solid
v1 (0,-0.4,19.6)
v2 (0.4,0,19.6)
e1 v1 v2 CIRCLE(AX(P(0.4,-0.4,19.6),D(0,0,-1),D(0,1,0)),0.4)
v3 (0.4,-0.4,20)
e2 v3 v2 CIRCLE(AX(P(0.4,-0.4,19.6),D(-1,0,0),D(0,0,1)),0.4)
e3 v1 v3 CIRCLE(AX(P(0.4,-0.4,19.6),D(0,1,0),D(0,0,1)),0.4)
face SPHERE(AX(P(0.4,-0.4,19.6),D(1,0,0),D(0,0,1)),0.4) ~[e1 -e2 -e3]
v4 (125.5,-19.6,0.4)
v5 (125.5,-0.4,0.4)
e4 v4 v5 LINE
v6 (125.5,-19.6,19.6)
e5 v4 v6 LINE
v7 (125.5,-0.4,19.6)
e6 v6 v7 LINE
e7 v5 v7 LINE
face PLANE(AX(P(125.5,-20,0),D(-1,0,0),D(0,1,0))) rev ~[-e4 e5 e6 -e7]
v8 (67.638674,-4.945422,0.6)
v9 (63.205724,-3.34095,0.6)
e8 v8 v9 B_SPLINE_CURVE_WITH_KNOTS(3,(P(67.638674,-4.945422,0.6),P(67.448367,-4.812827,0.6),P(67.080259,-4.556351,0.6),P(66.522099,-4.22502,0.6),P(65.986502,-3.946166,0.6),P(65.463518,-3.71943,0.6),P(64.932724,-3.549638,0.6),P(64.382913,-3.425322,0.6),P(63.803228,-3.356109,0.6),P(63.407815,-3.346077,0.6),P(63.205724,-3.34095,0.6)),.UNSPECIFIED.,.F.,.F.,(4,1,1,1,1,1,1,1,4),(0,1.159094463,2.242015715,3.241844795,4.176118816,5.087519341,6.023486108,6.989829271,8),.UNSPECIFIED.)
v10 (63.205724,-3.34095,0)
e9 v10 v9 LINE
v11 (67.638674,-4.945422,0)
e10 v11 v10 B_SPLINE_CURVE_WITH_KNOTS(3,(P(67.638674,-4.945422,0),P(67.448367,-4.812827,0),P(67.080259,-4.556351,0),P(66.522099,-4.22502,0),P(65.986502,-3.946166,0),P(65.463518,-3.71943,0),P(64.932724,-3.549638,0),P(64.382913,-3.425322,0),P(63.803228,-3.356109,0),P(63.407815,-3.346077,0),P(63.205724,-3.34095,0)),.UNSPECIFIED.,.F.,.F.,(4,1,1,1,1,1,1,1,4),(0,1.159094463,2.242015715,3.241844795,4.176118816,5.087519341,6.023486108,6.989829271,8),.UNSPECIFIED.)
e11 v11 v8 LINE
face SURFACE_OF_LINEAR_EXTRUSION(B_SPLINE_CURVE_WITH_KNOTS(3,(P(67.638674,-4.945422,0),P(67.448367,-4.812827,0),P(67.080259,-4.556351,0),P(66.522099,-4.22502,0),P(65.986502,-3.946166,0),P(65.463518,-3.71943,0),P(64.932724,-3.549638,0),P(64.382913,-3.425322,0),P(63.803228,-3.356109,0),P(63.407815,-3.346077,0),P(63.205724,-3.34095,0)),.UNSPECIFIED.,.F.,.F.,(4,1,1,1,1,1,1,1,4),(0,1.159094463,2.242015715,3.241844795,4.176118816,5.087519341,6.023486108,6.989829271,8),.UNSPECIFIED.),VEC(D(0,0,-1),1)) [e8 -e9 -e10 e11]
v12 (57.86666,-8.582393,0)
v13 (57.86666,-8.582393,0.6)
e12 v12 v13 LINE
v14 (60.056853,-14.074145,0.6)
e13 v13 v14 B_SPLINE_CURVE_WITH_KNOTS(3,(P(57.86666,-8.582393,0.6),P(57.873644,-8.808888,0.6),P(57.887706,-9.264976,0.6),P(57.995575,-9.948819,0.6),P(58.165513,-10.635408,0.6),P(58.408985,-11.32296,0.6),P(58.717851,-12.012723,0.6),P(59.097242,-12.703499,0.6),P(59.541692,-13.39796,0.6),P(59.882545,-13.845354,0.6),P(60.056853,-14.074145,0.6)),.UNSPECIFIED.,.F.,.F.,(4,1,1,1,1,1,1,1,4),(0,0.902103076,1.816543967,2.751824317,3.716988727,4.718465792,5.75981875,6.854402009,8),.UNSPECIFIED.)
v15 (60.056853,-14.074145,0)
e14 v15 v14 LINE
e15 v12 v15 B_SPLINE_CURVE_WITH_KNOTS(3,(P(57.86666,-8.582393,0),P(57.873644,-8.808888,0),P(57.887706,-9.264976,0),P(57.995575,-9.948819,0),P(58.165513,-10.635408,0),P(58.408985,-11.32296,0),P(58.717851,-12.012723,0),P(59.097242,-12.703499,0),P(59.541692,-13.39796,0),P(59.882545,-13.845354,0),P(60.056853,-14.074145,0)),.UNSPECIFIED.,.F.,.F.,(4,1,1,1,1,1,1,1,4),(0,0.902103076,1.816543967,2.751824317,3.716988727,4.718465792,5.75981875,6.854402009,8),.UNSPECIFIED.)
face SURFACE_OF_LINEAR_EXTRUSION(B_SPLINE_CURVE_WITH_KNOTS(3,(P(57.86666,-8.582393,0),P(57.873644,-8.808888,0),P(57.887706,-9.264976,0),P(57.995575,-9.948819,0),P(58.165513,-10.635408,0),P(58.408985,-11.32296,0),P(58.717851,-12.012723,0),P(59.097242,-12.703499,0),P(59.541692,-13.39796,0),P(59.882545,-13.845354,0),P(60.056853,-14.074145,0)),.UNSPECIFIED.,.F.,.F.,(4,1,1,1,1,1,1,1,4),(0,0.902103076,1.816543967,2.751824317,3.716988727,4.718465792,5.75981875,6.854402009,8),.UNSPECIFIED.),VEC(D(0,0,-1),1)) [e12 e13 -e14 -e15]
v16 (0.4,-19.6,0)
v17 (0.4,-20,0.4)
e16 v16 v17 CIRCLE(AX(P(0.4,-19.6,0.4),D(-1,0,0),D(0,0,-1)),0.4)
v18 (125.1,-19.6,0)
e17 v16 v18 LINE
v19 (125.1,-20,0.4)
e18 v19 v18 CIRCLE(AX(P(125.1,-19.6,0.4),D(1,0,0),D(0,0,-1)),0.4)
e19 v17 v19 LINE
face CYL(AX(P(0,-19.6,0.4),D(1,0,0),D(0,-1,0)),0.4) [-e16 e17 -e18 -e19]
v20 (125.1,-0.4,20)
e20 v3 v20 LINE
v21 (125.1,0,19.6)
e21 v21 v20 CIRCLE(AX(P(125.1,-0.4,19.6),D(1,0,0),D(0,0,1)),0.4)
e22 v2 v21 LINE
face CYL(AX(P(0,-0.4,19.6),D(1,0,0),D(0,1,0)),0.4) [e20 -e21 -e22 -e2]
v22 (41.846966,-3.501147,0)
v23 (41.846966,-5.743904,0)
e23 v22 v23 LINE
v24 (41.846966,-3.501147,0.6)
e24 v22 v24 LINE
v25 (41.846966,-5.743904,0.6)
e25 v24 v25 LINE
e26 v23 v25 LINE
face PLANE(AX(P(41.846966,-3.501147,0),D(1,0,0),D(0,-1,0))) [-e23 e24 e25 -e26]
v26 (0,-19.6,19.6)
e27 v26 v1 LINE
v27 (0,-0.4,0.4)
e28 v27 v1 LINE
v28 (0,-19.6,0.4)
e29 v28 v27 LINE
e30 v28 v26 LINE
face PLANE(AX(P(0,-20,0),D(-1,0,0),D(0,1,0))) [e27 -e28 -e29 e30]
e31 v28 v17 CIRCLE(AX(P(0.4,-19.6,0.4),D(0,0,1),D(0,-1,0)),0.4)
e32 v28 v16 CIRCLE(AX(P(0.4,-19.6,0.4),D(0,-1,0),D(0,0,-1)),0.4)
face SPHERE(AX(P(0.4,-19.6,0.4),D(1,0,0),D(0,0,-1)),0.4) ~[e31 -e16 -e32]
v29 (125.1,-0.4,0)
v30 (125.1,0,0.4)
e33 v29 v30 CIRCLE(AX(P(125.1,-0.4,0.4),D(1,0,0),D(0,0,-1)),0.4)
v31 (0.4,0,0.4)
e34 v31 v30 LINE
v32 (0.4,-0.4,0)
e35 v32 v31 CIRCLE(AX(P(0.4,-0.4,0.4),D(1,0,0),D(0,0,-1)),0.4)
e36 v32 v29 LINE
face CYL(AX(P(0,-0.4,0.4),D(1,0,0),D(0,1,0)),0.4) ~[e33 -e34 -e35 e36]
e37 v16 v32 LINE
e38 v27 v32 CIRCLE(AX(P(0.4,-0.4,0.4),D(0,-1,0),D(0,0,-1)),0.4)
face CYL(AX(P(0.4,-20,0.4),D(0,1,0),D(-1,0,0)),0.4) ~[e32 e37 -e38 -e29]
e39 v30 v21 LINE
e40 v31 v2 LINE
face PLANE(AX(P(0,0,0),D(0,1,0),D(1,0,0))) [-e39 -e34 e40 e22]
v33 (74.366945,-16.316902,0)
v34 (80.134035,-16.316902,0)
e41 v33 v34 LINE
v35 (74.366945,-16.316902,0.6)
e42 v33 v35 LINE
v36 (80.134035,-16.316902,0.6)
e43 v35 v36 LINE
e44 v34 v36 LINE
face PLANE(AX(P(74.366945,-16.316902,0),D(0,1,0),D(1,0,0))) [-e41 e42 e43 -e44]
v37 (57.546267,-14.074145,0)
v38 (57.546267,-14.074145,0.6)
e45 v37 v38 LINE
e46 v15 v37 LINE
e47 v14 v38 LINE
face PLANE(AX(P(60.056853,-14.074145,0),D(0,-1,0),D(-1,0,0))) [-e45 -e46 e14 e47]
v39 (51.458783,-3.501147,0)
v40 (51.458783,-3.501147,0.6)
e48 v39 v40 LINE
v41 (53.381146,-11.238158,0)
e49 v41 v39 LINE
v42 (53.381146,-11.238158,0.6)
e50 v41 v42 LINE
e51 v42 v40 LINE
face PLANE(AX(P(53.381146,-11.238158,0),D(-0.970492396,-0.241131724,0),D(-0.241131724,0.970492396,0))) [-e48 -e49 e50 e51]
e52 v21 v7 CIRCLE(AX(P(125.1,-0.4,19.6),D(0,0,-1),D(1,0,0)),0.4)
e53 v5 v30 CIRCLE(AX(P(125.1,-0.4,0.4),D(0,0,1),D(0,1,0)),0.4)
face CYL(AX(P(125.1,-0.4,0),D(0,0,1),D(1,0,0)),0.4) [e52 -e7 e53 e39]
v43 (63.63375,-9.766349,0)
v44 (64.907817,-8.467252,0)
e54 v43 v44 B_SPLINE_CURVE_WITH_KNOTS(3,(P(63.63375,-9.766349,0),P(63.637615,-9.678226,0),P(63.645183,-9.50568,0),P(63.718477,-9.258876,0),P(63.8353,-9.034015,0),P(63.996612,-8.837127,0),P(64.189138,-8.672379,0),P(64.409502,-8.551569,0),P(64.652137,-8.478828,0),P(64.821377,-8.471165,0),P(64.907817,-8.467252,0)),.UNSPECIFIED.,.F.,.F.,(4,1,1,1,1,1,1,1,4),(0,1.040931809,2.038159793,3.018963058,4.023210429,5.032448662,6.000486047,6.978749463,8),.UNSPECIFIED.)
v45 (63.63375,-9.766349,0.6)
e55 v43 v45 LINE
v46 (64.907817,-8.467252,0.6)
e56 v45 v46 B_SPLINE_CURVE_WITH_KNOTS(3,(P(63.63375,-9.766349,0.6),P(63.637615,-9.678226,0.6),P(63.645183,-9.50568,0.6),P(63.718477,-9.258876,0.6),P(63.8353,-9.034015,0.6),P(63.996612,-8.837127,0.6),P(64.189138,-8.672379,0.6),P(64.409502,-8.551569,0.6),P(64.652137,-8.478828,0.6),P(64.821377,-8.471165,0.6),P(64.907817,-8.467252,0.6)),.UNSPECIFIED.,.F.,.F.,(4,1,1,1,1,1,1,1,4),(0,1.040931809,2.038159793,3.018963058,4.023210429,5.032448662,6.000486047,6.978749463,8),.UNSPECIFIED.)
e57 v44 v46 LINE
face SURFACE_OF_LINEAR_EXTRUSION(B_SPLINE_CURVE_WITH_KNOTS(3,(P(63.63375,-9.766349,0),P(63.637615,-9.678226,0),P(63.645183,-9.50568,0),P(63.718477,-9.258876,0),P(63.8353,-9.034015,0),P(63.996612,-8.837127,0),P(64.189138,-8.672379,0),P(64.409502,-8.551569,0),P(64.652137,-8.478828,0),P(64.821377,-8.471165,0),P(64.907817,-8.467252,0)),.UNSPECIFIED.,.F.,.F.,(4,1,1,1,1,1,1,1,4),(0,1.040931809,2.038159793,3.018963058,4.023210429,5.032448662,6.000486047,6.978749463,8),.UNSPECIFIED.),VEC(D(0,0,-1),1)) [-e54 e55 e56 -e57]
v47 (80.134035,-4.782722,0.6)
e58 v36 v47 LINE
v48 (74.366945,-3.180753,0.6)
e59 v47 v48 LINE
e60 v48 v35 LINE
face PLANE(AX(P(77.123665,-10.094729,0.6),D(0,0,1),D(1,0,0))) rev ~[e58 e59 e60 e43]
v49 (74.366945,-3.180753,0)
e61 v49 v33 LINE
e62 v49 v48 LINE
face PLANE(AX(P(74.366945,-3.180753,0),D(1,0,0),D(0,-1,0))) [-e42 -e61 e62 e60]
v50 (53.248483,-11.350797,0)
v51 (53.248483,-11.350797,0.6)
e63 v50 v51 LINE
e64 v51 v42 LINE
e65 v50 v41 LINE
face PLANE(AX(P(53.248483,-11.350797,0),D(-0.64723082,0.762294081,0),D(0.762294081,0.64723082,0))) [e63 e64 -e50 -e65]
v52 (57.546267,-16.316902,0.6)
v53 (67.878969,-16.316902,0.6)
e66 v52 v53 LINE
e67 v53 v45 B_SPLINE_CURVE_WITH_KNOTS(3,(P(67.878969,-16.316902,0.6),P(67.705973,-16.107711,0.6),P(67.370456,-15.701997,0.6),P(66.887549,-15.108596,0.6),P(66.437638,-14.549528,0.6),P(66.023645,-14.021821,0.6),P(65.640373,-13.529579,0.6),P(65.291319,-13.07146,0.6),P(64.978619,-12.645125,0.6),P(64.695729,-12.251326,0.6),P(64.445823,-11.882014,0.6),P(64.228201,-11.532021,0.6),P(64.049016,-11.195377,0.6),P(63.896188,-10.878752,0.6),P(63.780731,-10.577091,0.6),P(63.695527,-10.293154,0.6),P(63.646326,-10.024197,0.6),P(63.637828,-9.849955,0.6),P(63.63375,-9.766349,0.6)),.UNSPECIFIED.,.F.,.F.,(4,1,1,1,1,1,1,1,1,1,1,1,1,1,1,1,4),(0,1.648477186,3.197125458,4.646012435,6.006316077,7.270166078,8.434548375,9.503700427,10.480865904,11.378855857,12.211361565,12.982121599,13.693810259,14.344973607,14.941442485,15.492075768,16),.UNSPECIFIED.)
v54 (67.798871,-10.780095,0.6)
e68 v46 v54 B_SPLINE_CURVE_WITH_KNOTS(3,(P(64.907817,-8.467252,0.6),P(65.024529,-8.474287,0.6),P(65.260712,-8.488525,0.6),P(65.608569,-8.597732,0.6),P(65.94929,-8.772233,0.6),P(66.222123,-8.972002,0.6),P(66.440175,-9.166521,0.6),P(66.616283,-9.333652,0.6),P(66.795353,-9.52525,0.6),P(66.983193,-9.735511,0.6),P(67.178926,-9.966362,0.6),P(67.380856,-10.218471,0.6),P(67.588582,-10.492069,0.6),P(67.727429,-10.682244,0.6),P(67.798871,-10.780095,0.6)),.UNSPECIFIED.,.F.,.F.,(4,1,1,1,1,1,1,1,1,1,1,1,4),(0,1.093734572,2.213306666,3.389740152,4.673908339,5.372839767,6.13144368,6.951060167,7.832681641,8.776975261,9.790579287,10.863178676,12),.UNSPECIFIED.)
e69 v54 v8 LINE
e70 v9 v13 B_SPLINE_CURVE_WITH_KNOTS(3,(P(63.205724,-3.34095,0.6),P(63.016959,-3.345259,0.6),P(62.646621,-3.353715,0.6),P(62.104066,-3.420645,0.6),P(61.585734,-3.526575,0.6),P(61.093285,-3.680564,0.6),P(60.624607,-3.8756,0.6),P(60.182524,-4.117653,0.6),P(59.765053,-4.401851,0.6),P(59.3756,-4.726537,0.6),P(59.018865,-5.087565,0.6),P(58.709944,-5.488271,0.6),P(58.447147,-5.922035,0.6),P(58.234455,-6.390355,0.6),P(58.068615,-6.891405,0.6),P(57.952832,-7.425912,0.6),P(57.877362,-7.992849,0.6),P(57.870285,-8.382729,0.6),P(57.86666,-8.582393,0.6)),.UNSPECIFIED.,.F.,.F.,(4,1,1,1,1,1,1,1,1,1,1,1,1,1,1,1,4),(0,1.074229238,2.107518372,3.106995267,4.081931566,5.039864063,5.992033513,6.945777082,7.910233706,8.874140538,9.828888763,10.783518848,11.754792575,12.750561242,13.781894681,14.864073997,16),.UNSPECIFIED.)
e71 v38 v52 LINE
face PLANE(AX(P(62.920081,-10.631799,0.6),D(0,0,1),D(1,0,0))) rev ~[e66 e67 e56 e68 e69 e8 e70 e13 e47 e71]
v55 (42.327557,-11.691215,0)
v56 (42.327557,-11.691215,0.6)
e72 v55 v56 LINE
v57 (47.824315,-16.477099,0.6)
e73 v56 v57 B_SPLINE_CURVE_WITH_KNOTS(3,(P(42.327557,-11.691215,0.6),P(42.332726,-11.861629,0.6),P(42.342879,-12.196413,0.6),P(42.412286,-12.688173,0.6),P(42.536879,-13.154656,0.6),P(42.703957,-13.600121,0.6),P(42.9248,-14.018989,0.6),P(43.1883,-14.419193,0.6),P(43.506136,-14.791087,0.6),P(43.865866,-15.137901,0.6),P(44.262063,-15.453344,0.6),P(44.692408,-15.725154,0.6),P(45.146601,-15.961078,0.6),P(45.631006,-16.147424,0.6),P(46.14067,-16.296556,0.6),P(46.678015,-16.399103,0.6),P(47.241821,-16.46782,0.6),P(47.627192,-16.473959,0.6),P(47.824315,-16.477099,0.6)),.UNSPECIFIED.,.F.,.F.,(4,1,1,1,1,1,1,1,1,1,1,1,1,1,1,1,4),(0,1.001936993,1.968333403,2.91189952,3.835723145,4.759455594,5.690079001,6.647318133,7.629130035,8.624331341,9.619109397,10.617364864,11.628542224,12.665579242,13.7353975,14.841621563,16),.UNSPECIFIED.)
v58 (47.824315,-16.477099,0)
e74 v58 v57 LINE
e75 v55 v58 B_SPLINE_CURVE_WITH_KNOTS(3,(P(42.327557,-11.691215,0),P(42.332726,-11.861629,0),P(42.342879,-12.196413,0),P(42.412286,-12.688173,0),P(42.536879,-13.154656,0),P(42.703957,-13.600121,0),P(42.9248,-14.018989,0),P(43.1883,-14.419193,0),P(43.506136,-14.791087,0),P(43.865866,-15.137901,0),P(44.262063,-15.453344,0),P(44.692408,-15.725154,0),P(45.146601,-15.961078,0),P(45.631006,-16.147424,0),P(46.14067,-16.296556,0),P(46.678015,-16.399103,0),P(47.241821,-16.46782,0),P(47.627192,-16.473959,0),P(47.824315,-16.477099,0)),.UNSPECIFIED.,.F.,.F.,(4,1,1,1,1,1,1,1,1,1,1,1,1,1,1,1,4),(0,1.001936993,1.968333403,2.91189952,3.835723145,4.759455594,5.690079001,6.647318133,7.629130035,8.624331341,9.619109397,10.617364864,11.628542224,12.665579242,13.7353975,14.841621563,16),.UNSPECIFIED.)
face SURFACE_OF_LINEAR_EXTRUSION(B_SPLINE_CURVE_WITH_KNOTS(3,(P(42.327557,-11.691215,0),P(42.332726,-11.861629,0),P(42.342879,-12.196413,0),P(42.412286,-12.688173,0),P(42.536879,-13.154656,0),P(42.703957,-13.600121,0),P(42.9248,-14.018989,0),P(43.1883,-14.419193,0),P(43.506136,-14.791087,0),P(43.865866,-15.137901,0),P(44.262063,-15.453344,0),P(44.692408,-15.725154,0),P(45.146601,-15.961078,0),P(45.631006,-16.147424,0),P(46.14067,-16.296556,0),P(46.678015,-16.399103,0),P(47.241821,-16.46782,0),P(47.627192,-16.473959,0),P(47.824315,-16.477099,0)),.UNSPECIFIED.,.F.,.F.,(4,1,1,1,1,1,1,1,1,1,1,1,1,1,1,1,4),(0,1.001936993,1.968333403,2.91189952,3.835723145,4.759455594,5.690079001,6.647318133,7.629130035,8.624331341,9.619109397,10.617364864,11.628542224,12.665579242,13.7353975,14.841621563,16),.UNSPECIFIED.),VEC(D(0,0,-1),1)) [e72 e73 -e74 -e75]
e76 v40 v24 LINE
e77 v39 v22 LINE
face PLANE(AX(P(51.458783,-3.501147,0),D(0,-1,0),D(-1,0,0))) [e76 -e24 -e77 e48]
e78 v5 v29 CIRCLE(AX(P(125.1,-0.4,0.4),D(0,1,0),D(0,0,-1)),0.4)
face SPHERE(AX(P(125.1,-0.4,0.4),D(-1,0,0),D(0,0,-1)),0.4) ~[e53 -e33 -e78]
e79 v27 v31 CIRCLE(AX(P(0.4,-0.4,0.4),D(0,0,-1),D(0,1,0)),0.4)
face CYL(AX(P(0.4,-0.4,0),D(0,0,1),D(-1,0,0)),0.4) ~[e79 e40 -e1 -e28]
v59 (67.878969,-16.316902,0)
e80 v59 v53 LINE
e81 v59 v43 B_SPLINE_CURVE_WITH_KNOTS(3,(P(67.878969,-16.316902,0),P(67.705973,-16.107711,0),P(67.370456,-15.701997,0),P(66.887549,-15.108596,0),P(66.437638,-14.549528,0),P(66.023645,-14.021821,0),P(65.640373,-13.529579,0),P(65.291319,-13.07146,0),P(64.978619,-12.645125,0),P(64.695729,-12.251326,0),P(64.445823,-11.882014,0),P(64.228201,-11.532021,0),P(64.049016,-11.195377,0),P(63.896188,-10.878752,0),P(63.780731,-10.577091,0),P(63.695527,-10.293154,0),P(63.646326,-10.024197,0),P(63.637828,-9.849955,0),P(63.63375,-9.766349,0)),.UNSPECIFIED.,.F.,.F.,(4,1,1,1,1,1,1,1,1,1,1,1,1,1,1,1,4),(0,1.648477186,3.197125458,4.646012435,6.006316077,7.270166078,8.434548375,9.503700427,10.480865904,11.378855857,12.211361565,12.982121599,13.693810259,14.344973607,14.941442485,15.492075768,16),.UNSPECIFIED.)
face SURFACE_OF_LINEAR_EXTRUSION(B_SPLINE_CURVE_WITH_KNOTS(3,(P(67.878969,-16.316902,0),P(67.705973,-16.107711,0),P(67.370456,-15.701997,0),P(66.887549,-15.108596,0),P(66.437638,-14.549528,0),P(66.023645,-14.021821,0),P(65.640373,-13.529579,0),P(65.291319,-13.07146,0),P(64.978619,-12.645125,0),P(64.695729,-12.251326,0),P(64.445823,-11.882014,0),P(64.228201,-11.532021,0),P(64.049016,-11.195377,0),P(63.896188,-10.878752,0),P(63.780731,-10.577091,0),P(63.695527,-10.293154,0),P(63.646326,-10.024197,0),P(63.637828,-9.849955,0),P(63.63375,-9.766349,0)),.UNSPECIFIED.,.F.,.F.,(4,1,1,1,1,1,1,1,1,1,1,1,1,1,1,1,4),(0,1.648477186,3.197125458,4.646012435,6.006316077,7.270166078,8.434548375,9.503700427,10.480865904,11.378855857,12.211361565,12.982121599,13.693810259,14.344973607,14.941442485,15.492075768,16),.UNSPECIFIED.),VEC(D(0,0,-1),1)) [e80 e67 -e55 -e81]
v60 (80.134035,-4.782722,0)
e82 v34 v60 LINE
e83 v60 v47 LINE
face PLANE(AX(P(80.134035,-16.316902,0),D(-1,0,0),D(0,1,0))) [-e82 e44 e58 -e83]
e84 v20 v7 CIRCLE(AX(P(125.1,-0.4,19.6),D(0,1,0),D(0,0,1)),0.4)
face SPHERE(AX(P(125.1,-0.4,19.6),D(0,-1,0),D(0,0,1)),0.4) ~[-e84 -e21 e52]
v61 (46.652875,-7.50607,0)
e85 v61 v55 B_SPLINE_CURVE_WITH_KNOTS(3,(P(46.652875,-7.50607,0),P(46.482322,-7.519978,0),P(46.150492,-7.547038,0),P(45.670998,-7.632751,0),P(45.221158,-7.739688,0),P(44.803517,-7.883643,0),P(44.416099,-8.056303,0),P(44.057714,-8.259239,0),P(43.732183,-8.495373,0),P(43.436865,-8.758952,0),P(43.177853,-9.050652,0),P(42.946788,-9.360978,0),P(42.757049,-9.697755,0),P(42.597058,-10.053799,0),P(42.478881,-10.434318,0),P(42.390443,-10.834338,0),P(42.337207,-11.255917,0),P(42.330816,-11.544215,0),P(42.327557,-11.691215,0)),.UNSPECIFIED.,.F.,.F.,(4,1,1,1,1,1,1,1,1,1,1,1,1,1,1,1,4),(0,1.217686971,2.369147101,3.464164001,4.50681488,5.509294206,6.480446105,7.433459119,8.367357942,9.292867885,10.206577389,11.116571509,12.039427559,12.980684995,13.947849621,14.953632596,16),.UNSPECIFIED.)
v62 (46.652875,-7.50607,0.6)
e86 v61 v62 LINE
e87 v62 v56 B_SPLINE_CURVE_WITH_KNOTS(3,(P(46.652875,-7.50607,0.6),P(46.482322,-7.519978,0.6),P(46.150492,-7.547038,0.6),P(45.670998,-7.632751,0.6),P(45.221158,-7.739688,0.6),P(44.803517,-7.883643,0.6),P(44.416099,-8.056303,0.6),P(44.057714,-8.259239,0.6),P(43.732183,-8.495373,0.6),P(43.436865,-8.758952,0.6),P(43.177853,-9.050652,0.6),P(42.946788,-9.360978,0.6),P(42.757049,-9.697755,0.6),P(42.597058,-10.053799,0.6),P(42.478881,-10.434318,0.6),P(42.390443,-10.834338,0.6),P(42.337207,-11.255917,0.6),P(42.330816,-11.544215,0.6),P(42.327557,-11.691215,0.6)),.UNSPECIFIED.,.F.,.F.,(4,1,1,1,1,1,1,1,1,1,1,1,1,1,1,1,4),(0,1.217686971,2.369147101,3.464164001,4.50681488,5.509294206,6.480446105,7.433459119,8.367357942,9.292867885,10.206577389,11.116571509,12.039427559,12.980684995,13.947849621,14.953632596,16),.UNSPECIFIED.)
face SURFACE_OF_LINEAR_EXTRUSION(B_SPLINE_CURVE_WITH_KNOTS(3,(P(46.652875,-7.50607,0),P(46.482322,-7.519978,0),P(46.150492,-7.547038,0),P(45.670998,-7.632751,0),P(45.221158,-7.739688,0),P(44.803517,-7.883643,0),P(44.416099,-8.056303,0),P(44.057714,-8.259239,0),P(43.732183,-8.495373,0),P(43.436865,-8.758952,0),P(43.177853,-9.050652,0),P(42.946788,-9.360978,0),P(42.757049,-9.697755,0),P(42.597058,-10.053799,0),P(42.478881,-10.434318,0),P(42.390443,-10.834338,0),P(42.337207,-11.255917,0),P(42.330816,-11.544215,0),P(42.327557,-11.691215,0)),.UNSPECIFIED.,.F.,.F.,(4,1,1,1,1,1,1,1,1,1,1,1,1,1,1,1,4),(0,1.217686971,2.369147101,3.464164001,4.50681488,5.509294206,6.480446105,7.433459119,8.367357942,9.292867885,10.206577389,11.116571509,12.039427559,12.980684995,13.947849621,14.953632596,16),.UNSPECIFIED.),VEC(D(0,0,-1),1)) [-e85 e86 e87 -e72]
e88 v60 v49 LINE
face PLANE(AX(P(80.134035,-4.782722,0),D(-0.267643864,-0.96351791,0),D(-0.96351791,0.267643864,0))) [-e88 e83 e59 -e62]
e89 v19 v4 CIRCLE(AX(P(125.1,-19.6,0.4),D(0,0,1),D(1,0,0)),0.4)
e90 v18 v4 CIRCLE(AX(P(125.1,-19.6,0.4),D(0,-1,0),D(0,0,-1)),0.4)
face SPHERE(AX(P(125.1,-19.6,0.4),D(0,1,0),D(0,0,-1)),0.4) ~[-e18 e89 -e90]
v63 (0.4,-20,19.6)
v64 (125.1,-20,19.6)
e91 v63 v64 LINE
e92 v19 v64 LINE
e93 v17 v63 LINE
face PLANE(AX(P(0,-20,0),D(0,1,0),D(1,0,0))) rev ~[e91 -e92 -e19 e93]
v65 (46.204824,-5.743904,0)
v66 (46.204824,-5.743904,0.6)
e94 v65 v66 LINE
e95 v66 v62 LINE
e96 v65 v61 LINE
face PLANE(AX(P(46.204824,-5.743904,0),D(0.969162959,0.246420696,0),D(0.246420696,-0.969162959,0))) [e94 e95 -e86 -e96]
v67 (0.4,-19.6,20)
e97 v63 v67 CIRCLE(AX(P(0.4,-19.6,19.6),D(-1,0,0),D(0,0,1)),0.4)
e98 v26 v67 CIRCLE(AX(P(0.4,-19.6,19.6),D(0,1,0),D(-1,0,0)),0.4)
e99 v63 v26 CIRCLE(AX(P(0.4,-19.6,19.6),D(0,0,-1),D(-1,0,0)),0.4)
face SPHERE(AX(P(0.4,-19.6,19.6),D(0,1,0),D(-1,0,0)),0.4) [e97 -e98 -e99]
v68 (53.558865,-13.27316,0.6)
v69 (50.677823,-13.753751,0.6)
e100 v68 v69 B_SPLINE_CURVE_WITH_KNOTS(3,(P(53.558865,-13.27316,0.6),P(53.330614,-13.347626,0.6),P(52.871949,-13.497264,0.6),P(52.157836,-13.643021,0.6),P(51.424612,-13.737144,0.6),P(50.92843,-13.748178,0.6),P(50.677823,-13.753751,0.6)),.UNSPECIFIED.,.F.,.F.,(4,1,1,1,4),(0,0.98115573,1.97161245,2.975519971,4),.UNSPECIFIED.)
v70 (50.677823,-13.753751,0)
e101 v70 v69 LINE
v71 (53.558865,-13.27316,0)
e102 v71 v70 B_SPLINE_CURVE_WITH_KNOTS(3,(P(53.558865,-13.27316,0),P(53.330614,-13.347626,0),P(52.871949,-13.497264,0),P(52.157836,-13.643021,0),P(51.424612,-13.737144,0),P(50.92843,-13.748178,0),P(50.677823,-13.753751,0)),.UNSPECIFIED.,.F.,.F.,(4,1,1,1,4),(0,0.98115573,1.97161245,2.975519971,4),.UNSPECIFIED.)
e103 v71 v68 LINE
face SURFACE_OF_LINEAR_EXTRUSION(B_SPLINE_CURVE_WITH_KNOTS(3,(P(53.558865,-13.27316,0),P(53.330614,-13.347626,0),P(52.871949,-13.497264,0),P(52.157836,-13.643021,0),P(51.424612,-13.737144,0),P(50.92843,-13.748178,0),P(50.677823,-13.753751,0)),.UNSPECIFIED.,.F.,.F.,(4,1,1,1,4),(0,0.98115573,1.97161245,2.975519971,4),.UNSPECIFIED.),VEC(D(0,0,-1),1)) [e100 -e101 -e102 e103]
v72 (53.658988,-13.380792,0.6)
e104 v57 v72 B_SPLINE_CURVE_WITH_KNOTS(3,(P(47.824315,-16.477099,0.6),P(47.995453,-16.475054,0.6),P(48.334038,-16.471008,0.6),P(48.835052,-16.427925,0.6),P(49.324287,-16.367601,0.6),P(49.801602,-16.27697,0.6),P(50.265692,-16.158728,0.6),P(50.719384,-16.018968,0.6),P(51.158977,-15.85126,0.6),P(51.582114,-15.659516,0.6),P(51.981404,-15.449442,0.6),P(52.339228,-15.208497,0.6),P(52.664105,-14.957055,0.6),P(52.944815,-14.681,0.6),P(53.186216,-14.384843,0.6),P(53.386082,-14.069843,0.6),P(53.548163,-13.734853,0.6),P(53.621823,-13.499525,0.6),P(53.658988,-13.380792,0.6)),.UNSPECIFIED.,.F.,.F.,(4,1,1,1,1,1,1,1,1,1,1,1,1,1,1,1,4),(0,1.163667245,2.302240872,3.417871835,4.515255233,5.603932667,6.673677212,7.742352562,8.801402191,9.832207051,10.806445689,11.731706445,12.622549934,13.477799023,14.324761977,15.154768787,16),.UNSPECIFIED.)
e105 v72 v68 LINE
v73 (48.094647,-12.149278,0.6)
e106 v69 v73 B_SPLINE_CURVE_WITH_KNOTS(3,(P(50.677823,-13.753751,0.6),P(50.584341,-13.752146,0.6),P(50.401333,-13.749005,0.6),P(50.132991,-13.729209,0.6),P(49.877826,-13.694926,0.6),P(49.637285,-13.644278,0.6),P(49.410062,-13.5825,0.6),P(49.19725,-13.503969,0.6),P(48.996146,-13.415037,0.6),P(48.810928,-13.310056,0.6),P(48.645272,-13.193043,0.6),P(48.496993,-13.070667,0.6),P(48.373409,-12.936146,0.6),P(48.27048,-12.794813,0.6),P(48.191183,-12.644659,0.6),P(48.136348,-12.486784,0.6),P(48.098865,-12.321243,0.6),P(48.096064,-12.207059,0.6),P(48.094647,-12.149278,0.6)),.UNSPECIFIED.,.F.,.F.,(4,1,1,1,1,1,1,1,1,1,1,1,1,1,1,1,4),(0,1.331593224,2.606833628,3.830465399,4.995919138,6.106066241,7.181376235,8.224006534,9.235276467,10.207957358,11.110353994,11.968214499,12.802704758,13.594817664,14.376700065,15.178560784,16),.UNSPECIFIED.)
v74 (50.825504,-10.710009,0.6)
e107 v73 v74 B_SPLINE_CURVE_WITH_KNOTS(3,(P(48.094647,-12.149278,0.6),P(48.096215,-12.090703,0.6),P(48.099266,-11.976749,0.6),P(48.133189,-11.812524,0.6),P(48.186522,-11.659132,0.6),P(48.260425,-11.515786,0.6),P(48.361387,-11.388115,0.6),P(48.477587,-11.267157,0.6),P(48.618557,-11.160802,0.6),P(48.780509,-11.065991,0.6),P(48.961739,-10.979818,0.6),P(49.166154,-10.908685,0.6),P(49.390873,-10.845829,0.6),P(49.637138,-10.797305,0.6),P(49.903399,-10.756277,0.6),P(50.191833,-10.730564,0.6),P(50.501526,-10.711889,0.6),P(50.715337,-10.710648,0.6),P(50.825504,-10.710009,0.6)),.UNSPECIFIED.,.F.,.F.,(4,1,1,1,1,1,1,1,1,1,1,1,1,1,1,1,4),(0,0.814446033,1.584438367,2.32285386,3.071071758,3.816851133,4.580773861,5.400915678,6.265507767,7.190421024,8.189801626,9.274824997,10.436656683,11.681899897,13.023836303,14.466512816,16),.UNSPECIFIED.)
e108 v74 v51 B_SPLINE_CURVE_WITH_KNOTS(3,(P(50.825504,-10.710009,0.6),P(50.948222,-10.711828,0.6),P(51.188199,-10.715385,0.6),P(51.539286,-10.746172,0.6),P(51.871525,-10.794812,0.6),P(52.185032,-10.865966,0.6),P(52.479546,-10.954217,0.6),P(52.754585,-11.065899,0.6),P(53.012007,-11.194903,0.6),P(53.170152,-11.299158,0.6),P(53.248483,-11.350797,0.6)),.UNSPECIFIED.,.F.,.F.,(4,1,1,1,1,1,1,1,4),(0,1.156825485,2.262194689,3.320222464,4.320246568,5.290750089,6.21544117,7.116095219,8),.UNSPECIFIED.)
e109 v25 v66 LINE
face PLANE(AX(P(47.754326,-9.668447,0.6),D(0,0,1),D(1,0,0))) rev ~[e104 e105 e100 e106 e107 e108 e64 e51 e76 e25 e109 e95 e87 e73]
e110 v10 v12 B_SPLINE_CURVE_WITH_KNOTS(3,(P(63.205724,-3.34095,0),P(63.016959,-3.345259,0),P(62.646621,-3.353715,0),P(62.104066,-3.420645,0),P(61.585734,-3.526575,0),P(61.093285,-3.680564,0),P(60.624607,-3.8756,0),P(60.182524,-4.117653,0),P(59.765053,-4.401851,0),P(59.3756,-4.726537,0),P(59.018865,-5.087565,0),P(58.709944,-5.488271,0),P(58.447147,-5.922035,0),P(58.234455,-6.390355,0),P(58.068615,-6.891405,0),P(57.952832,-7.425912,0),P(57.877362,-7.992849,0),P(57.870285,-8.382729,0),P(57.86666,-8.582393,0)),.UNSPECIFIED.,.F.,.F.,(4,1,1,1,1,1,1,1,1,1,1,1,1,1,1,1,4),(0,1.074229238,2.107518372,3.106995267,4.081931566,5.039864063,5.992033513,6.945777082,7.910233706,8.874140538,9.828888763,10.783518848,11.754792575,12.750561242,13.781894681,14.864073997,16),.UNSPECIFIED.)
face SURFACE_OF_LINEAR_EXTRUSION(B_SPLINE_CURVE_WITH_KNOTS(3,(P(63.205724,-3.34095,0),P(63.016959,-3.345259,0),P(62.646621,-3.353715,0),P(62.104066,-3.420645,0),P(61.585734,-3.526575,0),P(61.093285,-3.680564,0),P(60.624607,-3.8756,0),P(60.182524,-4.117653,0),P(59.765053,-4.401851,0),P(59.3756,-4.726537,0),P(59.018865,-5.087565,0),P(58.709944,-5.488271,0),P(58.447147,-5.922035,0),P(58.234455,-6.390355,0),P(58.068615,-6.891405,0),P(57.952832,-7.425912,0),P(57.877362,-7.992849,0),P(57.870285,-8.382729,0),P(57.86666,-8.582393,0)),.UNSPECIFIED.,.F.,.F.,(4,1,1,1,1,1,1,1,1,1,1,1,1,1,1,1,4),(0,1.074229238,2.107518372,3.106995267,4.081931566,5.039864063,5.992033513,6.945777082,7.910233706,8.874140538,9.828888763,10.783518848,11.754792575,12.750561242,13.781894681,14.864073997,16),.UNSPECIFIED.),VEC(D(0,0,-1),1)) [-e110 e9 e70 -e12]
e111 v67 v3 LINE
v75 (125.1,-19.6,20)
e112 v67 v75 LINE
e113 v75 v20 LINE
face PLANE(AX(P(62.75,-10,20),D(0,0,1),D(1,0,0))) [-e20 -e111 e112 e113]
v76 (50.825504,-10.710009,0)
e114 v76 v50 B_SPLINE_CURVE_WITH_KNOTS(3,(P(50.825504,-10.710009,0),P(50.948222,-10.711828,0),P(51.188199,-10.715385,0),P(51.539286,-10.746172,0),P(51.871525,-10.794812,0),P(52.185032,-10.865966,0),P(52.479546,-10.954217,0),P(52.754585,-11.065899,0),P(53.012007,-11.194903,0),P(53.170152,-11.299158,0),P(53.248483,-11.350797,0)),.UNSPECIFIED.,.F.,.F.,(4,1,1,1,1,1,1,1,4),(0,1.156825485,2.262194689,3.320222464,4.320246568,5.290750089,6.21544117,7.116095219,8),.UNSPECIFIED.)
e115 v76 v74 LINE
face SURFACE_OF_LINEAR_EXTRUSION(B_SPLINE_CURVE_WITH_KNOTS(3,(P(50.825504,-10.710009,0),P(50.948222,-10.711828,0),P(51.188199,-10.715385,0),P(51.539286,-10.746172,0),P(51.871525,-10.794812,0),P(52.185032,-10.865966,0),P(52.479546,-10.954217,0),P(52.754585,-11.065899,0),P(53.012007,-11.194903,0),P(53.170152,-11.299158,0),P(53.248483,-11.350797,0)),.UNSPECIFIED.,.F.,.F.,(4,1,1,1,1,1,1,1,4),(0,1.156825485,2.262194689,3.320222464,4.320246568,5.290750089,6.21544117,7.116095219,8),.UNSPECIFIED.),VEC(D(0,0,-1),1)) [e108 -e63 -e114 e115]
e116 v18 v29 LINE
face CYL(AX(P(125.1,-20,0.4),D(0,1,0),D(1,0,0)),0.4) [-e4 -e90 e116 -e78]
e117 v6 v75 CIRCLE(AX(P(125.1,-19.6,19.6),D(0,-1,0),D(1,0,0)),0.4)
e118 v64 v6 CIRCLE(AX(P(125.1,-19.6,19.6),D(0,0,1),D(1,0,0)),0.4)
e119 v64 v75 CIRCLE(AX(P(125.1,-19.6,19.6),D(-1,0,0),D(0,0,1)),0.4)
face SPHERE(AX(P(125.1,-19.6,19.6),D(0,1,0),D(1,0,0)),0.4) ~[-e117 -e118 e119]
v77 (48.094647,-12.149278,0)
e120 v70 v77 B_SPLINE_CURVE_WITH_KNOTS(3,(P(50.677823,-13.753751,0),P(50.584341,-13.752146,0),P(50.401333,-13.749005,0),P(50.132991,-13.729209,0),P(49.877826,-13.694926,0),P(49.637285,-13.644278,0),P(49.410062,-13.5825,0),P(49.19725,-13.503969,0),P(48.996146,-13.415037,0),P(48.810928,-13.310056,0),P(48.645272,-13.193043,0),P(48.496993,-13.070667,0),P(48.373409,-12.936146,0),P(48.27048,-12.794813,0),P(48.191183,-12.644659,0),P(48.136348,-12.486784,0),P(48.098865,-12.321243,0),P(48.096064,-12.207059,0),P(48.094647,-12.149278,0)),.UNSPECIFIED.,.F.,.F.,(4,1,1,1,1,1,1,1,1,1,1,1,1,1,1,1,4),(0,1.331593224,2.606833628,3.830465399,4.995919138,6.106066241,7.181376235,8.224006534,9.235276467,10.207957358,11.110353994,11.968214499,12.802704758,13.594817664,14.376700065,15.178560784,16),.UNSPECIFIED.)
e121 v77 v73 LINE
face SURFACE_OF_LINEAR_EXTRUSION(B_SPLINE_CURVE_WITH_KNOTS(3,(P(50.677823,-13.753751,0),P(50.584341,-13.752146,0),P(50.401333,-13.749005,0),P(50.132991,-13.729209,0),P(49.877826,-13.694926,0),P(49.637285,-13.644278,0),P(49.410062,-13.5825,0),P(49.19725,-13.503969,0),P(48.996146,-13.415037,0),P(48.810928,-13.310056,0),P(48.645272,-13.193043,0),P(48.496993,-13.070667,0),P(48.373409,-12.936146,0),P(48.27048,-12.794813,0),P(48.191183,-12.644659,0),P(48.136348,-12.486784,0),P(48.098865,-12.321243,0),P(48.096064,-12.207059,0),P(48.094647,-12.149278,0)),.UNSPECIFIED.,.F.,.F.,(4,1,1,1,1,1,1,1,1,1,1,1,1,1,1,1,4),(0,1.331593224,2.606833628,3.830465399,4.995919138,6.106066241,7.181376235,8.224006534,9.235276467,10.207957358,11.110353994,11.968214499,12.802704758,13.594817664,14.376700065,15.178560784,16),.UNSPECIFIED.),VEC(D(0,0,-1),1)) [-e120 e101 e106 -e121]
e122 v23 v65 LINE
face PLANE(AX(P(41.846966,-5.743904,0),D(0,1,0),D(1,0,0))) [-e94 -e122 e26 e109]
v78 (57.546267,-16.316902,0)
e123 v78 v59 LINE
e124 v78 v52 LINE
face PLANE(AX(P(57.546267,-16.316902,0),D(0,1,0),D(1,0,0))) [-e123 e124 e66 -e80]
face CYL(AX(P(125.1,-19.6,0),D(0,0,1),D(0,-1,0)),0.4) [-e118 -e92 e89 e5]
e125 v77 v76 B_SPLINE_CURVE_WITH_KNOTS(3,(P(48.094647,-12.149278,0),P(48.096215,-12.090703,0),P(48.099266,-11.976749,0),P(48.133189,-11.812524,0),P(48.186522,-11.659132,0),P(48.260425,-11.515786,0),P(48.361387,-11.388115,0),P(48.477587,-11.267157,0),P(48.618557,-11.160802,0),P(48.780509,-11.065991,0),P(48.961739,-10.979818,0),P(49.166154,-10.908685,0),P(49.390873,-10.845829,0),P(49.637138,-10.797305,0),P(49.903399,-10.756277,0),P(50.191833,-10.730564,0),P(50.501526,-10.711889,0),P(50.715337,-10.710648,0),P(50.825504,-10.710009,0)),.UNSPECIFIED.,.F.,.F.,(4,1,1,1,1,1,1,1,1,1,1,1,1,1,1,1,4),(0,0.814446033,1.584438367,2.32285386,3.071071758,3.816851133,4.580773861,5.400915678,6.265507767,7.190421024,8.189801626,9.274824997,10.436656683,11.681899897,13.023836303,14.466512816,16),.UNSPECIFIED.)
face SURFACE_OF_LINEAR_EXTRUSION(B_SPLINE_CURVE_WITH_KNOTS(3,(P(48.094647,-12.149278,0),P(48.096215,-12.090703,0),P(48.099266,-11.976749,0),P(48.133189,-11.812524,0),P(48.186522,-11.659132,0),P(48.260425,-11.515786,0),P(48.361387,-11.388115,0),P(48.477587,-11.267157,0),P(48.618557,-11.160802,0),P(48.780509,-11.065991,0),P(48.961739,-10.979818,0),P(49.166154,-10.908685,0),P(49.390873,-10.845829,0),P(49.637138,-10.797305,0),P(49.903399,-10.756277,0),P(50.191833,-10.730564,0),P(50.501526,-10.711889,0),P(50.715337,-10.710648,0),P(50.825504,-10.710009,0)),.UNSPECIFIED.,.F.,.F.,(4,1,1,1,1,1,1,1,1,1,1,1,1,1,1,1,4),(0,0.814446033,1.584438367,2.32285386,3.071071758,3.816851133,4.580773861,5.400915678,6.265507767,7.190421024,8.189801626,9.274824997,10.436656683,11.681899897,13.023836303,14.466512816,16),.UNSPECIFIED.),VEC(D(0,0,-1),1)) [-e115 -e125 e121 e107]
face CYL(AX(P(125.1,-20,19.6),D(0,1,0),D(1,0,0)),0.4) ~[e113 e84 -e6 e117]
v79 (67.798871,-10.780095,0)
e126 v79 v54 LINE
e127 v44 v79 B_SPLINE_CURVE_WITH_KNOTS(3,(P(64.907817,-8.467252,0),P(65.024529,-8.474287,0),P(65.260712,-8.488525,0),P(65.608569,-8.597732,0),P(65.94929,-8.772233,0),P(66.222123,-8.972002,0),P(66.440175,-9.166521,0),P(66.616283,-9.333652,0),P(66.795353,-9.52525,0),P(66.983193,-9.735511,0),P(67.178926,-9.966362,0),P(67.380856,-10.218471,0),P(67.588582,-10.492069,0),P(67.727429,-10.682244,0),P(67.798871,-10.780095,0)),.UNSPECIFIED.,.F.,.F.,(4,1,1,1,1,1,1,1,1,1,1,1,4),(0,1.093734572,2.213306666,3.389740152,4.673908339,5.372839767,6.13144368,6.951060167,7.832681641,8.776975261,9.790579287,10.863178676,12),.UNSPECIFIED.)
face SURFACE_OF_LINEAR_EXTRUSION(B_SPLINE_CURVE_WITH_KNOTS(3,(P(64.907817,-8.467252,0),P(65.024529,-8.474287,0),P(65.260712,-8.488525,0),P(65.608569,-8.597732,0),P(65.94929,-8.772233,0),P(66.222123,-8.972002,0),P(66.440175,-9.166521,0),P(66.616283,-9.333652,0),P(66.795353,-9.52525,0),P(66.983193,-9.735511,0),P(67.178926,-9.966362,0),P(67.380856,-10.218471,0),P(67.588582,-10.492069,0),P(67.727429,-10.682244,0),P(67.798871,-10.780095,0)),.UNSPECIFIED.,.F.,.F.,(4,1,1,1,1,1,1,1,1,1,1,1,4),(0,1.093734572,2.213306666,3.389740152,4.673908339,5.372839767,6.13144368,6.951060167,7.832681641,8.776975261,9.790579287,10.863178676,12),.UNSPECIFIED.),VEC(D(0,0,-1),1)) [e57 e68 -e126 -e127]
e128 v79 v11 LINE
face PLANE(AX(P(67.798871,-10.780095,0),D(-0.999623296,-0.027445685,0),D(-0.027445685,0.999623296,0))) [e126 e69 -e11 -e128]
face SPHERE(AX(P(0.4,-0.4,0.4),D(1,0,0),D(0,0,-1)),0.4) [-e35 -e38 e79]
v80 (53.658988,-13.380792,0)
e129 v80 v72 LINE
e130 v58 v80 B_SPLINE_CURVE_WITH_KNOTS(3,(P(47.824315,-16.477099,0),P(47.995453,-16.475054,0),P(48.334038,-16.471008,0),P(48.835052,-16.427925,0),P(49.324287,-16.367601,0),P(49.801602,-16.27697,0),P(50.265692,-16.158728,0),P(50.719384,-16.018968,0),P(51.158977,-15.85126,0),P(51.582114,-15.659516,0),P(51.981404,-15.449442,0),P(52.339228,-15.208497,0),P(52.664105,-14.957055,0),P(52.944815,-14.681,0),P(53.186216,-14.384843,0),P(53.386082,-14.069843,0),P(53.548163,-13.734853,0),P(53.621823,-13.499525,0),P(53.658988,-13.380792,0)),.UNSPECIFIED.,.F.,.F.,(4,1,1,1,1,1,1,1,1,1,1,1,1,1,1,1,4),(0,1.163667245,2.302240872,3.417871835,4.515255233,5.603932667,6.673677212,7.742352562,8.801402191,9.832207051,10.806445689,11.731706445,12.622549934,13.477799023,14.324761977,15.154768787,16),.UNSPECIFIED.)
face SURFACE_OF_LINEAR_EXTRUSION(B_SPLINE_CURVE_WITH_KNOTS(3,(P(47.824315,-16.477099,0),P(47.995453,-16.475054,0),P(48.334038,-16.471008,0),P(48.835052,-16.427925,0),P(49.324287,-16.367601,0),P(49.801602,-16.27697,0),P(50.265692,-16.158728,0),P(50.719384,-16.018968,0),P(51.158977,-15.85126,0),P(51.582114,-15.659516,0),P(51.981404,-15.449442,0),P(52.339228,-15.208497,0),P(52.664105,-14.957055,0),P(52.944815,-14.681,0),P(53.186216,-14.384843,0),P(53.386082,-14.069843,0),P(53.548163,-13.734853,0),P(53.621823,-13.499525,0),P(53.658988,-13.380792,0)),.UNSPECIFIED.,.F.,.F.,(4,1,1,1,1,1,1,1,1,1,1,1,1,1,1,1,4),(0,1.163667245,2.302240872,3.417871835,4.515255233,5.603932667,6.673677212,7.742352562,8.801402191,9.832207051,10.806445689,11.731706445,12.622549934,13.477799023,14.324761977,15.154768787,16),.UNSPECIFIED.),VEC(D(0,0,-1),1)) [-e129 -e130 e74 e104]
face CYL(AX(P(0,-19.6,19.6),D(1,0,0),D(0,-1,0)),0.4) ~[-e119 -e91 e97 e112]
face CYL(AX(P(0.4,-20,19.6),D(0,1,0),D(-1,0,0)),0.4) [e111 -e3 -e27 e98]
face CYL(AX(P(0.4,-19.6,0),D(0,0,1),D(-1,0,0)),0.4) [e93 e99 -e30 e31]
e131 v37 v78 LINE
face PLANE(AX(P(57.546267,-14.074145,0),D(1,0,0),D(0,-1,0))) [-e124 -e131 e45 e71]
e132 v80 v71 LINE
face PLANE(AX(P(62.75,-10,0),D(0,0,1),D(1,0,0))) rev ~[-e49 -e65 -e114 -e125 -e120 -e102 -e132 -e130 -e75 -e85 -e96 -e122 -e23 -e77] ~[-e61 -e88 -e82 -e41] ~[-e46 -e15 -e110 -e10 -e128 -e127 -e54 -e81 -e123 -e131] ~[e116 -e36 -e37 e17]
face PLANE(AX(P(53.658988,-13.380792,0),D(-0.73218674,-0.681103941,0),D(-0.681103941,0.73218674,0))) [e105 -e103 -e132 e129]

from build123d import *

# Parameters (mm, degrees)
SKETCH1_W           = 125.5
SKETCH1_H           = 20
BOSS_EXTRUDE1_DEPTH = 20
FILLET1_R           = 0.4
CUT_EXTRUDE1_DEPTH  = 0.6


with BuildPart() as part:
    # Sketch1 → Boss-Extrude1 (new body)
    with BuildSketch(Plane.XY):
        with Locations((62.75, -10)):
            Rectangle(SKETCH1_W, SKETCH1_H)
    extrude(amount=BOSS_EXTRUDE1_DEPTH)

    # Fillet1
    fillet1_edges = [part.edges().sort_by_distance(p)[0] for p in [
        (125.5, -10, 20),
        (62.75, 0, 20),
        (0, -10, 20),
        (62.75, 0, 0),
        (125.5, -10, 0),
        (62.75, -20, 0),
        (0, -10, 0),
        (0, 0, 10),
        (125.5, 0, 10),
        (125.5, -20, 10),
        (0, -20, 10),
        (62.75, -20, 20),
    ]]
    fillet(fillet1_edges, radius=FILLET1_R)

    # Sketch2 → Cut-Extrude1 (cut)
    with BuildSketch(Plane(origin=(0, 0, 0), x_dir=(-1, 0, 0), z_dir=(0, 0, -1))):
        Polygon((-74.366945263, -16.316901728), (-80.134035107, -16.316901728), (-80.134035107, -4.78272204), (-74.366945263, -3.180752639), align=None)
        with BuildLine():
            Line((-57.546266552, -14.074144566), (-57.546266552, -16.316901728))
            Line((-57.546266552, -16.316901728), (-67.878969189, -16.316901728))
            add(Edge.make_bspline(
                [(-67.878969189, -16.316901728), (-67.705972662, -16.107710863), (-67.370455977, -15.701997369), (-66.887548782, -15.10859586), (-66.43763762, -14.549527819), (-66.023644885, -14.021820882), (-65.640372658, -13.529579363), (-65.291318914, -13.071459877), (-64.978619028, -12.64512484), (-64.695729106, -12.251325979), (-64.445822511, -11.882014175), (-64.228201066, -11.532020948), (-64.049016346, -11.195376551), (-63.896188231, -10.878752474), (-63.780730828, -10.57709072), (-63.695526935, -10.293154159), (-63.646326017, -10.024196815), (-63.6378279, -9.849954737), (-63.633750276, -9.766348724)],
                knots=[0, 0, 0, 0, 1.648477186, 3.197125458, 4.646012435, 6.006316077, 7.270166078, 8.434548375, 9.503700427, 10.480865904, 11.378855857, 12.211361565, 12.982121599, 13.693810259, 14.344973607, 14.941442485, 15.492075768, 16, 16, 16, 16], degree=3))
            add(Edge.make_bspline(
                [(-63.633750276, -9.766348724), (-63.63761519, -9.678226006), (-63.645182749, -9.505680427), (-63.718477287, -9.258876389), (-63.835299629, -9.03401472), (-63.996612476, -8.837126712), (-64.18913759, -8.672378913), (-64.409501583, -8.551568757), (-64.652136972, -8.478827964), (-64.821377215, -8.471165342), (-64.907816565, -8.467251663)],
                knots=[0, 0, 0, 0, 1.040931809, 2.038159793, 3.018963058, 4.023210429, 5.032448662, 6.000486047, 6.978749463, 8, 8, 8, 8], degree=3))
            add(Edge.make_bspline(
                [(-64.907816565, -8.467251663), (-65.024529267, -8.474287394), (-65.260711798, -8.488525064), (-65.608569086, -8.597731909), (-65.949290336, -8.772233168), (-66.222122639, -8.97200242), (-66.440175186, -9.166520594), (-66.616282736, -9.333652206), (-66.795353229, -9.525249725), (-66.983192681, -9.735511466), (-67.178926331, -9.966362222), (-67.38085624, -10.218471226), (-67.588582252, -10.492069183), (-67.72742926, -10.682243763), (-67.798870719, -10.780094985)],
                knots=[0, 0, 0, 0, 1.093734572, 2.213306666, 3.389740152, 4.673908339, 5.372839767, 6.13144368, 6.951060167, 7.832681641, 8.776975261, 9.790579287, 10.863178676, 12, 12, 12, 12], degree=3))
            Line((-67.798870719, -10.780094985), (-67.638673779, -4.945422058))
            add(Edge.make_bspline(
                [(-67.638673779, -4.945422058), (-67.448366635, -4.812826952), (-67.080258926, -4.556350607), (-66.522099469, -4.225019564), (-65.986501615, -3.946166391), (-65.463517955, -3.719429652), (-64.932723712, -3.549637799), (-64.382912665, -3.425321537), (-63.803228059, -3.356109491), (-63.407814726, -3.346077037), (-63.205724077, -3.340949579)],
                knots=[0, 0, 0, 0, 1.159094463, 2.242015715, 3.241844795, 4.176118816, 5.087519341, 6.023486108, 6.989829271, 8, 8, 8, 8], degree=3))
            add(Edge.make_bspline(
                [(-63.205724077, -3.340949579), (-63.016958514, -3.345259345), (-62.646621459, -3.353714627), (-62.104066149, -3.420644673), (-61.585734161, -3.526575274), (-61.093284803, -3.680564483), (-60.624606953, -3.875600406), (-60.182524331, -4.117652558), (-59.765053358, -4.401850534), (-59.375599547, -4.726537369), (-59.018864943, -5.087565258), (-58.709944035, -5.488271101), (-58.447147473, -5.922035103), (-58.234454585, -6.39035542), (-58.068614997, -6.8914053), (-57.952832255, -7.425911988), (-57.877361687, -7.992848915), (-57.870284678, -8.382729395), (-57.866660432, -8.582393213)],
                knots=[0, 0, 0, 0, 1.074229238, 2.107518372, 3.106995267, 4.081931566, 5.039864063, 5.992033513, 6.945777082, 7.910233706, 8.874140538, 9.828888763, 10.783518848, 11.754792575, 12.750561242, 13.781894681, 14.864073997, 16, 16, 16, 16], degree=3))
            add(Edge.make_bspline(
                [(-57.866660432, -8.582393213), (-57.873643881, -8.808888166), (-57.88770629, -9.264975782), (-57.995575418, -9.948818509), (-58.165512868, -10.635407813), (-58.408984758, -11.322960433), (-58.71785052, -12.01272301), (-59.097242158, -12.703498853), (-59.541692122, -13.39796021), (-59.882545319, -13.845353678), (-60.056852973, -14.074144566)],
                knots=[0, 0, 0, 0, 0.902103076, 1.816543967, 2.751824317, 3.716988727, 4.718465792, 5.75981875, 6.854402009, 8, 8, 8, 8], degree=3))
            Line((-60.056852973, -14.074144566), (-57.546266552, -14.074144566))
        make_face()
        with BuildLine():
            Line((-41.846966422, -3.501146519), (-41.846966422, -5.743903681))
            Line((-41.846966422, -5.743903681), (-46.204823808, -5.743903681))
            Line((-46.204823808, -5.743903681), (-46.652874625, -7.506070022))
            add(Edge.make_bspline(
                [(-46.652874625, -7.506070022), (-46.482321613, -7.519978175), (-46.150491526, -7.547038052), (-45.670998184, -7.632750902), (-45.221158106, -7.73968848), (-44.803517412, -7.883642785), (-44.416099293, -8.056302553), (-44.057713612, -8.259238727), (-43.732182612, -8.495373132), (-43.436864576, -8.758952053), (-43.17785264, -9.050652292), (-42.946787881, -9.360978428), (-42.757049446, -9.697754865), (-42.597058119, -10.053798877), (-42.478880766, -10.434318217), (-42.390442896, -10.834337514), (-42.337206819, -11.255917098), (-42.330815898, -11.544215241), (-42.327557242, -11.691215082)],
                knots=[0, 0, 0, 0, 1.217686971, 2.369147101, 3.464164001, 4.50681488, 5.509294206, 6.480446105, 7.433459119, 8.367357942, 9.292867885, 10.206577389, 11.116571509, 12.039427559, 12.980684995, 13.947849621, 14.953632596, 16, 16, 16, 16], degree=3))
            add(Edge.make_bspline(
                [(-42.327557242, -11.691215082), (-42.332725578, -11.861629228), (-42.342878918, -12.196412612), (-42.412286374, -12.688172595), (-42.536879393, -13.154655851), (-42.703957245, -13.60012135), (-42.924799915, -14.01898868), (-43.18830034, -14.419192643), (-43.506136215, -14.791086867), (-43.865866195, -15.13790055), (-44.262063383, -15.453344127), (-44.692407679, -15.725153686), (-45.146600907, -15.96107806), (-45.631005561, -16.147423967), (-46.140669633, -16.296555526), (-46.678014611, -16.399103083), (-47.241820982, -16.467820433), (-47.627191764, -16.4739588), (-47.82431475, -16.477098668)],
                knots=[0, 0, 0, 0, 1.001936993, 1.968333403, 2.91189952, 3.835723145, 4.759455594, 5.690079001, 6.647318133, 7.629130035, 8.624331341, 9.619109397, 10.617364864, 11.628542224, 12.665579242, 13.7353975, 14.841621563, 16, 16, 16, 16], degree=3))
            add(Edge.make_bspline(
                [(-47.82431475, -16.477098668), (-47.995452758, -16.475053682), (-48.334038311, -16.471007808), (-48.835051603, -16.427924871), (-49.324287373, -16.367601082), (-49.801602388, -16.27697018), (-50.265692358, -16.158728213), (-50.719384223, -16.018967858), (-51.158976946, -15.851259859), (-51.58211369, -15.659515534), (-51.981403937, -15.449441543), (-52.339227629, -15.208497153), (-52.664104958, -14.957055497), (-52.944815308, -14.680999749), (-53.186215526, -14.384843017), (-53.386082097, -14.069843268), (-53.548162951, -13.734853048), (-53.621822964, -13.499525351), (-53.658987677, -13.380792185)],
                knots=[0, 0, 0, 0, 1.163667245, 2.302240872, 3.417871835, 4.515255233, 5.603932667, 6.673677212, 7.742352562, 8.801402191, 9.832207051, 10.806445689, 11.731706445, 12.622549934, 13.477799023, 14.324761977, 15.154768787, 16, 16, 16, 16], degree=3))
            Line((-53.658987677, -13.380792185), (-53.55886459, -13.273159866))
            add(Edge.make_bspline(
                [(-53.55886459, -13.273159866), (-53.330613981, -13.347625882), (-52.871949032, -13.497263826), (-52.157836047, -13.643020924), (-51.424612066, -13.737143757), (-50.928429994, -13.74817774), (-50.677822745, -13.753750686)],
                knots=[0, 0, 0, 0, 0.98115573, 1.97161245, 2.975519971, 4, 4, 4, 4], degree=3))
            add(Edge.make_bspline(
                [(-50.677822745, -13.753750686), (-50.584340925, -13.75214615), (-50.40133342, -13.749004982), (-50.132991054, -13.729209046), (-49.877825928, -13.694925577), (-49.637285272, -13.644277755), (-49.410062417, -13.582499541), (-49.197250101, -13.503969468), (-48.996145528, -13.415036947), (-48.810927669, -13.310055836), (-48.645272381, -13.193042846), (-48.496992607, -13.070667442), (-48.373408996, -12.936145926), (-48.270480154, -12.794812841), (-48.191182852, -12.644659155), (-48.136347966, -12.486783515), (-48.098864731, -12.321242642), (-48.096064227, -12.20705874), (-48.094647086, -12.149278208)],
                knots=[0, 0, 0, 0, 1.331593224, 2.606833628, 3.830465399, 4.995919138, 6.106066241, 7.181376235, 8.224006534, 9.235276467, 10.207957358, 11.110353994, 11.968214499, 12.802704758, 13.594817664, 14.376700065, 15.178560784, 16, 16, 16, 16], degree=3))
            add(Edge.make_bspline(
                [(-48.094647086, -12.149278208), (-48.096215228, -12.090702648), (-48.099265921, -11.97674867), (-48.133188948, -11.812524108), (-48.186522157, -11.659131543), (-48.260425217, -11.515786217), (-48.361386515, -11.388115386), (-48.477586534, -11.267157393), (-48.618557274, -11.160802325), (-48.78050932, -11.065991168), (-48.961738669, -10.979818408), (-49.166154048, -10.908685384), (-49.390872731, -10.845829137), (-49.637137752, -10.797305349), (-49.903398763, -10.756277325), (-50.191832798, -10.730564192), (-50.501526285, -10.711889455), (-50.715336983, -10.710648325), (-50.825504299, -10.710008824)],
                knots=[0, 0, 0, 0, 0.814446033, 1.584438367, 2.32285386, 3.071071758, 3.816851133, 4.580773861, 5.400915678, 6.265507767, 7.190421024, 8.189801626, 9.274824997, 10.436656683, 11.681899897, 13.023836303, 14.466512816, 16, 16, 16, 16], degree=3))
            add(Edge.make_bspline(
                [(-50.825504299, -10.710008824), (-50.94822196, -10.711827853), (-51.188198727, -10.715384999), (-51.53928648, -10.746172307), (-51.871525144, -10.794811586), (-52.185032293, -10.865966434), (-52.47954607, -10.954216522), (-52.754585324, -11.065898504), (-53.012007067, -11.194903344), (-53.170152468, -11.299158338), (-53.248483018, -11.350796584)],
                knots=[0, 0, 0, 0, 1.156825485, 2.262194689, 3.320222464, 4.320246568, 5.290750089, 6.21544117, 7.116095219, 8, 8, 8, 8], degree=3))
            Line((-53.248483018, -11.350796584), (-53.381146109, -11.238158111))
            Line((-53.381146109, -11.238158111), (-51.458782828, -3.501146519))
            Line((-51.458782828, -3.501146519), (-41.846966422, -3.501146519))
        make_face()
    extrude(amount=-CUT_EXTRUDE1_DEPTH, mode=Mode.SUBTRACT)


solid = part.part
